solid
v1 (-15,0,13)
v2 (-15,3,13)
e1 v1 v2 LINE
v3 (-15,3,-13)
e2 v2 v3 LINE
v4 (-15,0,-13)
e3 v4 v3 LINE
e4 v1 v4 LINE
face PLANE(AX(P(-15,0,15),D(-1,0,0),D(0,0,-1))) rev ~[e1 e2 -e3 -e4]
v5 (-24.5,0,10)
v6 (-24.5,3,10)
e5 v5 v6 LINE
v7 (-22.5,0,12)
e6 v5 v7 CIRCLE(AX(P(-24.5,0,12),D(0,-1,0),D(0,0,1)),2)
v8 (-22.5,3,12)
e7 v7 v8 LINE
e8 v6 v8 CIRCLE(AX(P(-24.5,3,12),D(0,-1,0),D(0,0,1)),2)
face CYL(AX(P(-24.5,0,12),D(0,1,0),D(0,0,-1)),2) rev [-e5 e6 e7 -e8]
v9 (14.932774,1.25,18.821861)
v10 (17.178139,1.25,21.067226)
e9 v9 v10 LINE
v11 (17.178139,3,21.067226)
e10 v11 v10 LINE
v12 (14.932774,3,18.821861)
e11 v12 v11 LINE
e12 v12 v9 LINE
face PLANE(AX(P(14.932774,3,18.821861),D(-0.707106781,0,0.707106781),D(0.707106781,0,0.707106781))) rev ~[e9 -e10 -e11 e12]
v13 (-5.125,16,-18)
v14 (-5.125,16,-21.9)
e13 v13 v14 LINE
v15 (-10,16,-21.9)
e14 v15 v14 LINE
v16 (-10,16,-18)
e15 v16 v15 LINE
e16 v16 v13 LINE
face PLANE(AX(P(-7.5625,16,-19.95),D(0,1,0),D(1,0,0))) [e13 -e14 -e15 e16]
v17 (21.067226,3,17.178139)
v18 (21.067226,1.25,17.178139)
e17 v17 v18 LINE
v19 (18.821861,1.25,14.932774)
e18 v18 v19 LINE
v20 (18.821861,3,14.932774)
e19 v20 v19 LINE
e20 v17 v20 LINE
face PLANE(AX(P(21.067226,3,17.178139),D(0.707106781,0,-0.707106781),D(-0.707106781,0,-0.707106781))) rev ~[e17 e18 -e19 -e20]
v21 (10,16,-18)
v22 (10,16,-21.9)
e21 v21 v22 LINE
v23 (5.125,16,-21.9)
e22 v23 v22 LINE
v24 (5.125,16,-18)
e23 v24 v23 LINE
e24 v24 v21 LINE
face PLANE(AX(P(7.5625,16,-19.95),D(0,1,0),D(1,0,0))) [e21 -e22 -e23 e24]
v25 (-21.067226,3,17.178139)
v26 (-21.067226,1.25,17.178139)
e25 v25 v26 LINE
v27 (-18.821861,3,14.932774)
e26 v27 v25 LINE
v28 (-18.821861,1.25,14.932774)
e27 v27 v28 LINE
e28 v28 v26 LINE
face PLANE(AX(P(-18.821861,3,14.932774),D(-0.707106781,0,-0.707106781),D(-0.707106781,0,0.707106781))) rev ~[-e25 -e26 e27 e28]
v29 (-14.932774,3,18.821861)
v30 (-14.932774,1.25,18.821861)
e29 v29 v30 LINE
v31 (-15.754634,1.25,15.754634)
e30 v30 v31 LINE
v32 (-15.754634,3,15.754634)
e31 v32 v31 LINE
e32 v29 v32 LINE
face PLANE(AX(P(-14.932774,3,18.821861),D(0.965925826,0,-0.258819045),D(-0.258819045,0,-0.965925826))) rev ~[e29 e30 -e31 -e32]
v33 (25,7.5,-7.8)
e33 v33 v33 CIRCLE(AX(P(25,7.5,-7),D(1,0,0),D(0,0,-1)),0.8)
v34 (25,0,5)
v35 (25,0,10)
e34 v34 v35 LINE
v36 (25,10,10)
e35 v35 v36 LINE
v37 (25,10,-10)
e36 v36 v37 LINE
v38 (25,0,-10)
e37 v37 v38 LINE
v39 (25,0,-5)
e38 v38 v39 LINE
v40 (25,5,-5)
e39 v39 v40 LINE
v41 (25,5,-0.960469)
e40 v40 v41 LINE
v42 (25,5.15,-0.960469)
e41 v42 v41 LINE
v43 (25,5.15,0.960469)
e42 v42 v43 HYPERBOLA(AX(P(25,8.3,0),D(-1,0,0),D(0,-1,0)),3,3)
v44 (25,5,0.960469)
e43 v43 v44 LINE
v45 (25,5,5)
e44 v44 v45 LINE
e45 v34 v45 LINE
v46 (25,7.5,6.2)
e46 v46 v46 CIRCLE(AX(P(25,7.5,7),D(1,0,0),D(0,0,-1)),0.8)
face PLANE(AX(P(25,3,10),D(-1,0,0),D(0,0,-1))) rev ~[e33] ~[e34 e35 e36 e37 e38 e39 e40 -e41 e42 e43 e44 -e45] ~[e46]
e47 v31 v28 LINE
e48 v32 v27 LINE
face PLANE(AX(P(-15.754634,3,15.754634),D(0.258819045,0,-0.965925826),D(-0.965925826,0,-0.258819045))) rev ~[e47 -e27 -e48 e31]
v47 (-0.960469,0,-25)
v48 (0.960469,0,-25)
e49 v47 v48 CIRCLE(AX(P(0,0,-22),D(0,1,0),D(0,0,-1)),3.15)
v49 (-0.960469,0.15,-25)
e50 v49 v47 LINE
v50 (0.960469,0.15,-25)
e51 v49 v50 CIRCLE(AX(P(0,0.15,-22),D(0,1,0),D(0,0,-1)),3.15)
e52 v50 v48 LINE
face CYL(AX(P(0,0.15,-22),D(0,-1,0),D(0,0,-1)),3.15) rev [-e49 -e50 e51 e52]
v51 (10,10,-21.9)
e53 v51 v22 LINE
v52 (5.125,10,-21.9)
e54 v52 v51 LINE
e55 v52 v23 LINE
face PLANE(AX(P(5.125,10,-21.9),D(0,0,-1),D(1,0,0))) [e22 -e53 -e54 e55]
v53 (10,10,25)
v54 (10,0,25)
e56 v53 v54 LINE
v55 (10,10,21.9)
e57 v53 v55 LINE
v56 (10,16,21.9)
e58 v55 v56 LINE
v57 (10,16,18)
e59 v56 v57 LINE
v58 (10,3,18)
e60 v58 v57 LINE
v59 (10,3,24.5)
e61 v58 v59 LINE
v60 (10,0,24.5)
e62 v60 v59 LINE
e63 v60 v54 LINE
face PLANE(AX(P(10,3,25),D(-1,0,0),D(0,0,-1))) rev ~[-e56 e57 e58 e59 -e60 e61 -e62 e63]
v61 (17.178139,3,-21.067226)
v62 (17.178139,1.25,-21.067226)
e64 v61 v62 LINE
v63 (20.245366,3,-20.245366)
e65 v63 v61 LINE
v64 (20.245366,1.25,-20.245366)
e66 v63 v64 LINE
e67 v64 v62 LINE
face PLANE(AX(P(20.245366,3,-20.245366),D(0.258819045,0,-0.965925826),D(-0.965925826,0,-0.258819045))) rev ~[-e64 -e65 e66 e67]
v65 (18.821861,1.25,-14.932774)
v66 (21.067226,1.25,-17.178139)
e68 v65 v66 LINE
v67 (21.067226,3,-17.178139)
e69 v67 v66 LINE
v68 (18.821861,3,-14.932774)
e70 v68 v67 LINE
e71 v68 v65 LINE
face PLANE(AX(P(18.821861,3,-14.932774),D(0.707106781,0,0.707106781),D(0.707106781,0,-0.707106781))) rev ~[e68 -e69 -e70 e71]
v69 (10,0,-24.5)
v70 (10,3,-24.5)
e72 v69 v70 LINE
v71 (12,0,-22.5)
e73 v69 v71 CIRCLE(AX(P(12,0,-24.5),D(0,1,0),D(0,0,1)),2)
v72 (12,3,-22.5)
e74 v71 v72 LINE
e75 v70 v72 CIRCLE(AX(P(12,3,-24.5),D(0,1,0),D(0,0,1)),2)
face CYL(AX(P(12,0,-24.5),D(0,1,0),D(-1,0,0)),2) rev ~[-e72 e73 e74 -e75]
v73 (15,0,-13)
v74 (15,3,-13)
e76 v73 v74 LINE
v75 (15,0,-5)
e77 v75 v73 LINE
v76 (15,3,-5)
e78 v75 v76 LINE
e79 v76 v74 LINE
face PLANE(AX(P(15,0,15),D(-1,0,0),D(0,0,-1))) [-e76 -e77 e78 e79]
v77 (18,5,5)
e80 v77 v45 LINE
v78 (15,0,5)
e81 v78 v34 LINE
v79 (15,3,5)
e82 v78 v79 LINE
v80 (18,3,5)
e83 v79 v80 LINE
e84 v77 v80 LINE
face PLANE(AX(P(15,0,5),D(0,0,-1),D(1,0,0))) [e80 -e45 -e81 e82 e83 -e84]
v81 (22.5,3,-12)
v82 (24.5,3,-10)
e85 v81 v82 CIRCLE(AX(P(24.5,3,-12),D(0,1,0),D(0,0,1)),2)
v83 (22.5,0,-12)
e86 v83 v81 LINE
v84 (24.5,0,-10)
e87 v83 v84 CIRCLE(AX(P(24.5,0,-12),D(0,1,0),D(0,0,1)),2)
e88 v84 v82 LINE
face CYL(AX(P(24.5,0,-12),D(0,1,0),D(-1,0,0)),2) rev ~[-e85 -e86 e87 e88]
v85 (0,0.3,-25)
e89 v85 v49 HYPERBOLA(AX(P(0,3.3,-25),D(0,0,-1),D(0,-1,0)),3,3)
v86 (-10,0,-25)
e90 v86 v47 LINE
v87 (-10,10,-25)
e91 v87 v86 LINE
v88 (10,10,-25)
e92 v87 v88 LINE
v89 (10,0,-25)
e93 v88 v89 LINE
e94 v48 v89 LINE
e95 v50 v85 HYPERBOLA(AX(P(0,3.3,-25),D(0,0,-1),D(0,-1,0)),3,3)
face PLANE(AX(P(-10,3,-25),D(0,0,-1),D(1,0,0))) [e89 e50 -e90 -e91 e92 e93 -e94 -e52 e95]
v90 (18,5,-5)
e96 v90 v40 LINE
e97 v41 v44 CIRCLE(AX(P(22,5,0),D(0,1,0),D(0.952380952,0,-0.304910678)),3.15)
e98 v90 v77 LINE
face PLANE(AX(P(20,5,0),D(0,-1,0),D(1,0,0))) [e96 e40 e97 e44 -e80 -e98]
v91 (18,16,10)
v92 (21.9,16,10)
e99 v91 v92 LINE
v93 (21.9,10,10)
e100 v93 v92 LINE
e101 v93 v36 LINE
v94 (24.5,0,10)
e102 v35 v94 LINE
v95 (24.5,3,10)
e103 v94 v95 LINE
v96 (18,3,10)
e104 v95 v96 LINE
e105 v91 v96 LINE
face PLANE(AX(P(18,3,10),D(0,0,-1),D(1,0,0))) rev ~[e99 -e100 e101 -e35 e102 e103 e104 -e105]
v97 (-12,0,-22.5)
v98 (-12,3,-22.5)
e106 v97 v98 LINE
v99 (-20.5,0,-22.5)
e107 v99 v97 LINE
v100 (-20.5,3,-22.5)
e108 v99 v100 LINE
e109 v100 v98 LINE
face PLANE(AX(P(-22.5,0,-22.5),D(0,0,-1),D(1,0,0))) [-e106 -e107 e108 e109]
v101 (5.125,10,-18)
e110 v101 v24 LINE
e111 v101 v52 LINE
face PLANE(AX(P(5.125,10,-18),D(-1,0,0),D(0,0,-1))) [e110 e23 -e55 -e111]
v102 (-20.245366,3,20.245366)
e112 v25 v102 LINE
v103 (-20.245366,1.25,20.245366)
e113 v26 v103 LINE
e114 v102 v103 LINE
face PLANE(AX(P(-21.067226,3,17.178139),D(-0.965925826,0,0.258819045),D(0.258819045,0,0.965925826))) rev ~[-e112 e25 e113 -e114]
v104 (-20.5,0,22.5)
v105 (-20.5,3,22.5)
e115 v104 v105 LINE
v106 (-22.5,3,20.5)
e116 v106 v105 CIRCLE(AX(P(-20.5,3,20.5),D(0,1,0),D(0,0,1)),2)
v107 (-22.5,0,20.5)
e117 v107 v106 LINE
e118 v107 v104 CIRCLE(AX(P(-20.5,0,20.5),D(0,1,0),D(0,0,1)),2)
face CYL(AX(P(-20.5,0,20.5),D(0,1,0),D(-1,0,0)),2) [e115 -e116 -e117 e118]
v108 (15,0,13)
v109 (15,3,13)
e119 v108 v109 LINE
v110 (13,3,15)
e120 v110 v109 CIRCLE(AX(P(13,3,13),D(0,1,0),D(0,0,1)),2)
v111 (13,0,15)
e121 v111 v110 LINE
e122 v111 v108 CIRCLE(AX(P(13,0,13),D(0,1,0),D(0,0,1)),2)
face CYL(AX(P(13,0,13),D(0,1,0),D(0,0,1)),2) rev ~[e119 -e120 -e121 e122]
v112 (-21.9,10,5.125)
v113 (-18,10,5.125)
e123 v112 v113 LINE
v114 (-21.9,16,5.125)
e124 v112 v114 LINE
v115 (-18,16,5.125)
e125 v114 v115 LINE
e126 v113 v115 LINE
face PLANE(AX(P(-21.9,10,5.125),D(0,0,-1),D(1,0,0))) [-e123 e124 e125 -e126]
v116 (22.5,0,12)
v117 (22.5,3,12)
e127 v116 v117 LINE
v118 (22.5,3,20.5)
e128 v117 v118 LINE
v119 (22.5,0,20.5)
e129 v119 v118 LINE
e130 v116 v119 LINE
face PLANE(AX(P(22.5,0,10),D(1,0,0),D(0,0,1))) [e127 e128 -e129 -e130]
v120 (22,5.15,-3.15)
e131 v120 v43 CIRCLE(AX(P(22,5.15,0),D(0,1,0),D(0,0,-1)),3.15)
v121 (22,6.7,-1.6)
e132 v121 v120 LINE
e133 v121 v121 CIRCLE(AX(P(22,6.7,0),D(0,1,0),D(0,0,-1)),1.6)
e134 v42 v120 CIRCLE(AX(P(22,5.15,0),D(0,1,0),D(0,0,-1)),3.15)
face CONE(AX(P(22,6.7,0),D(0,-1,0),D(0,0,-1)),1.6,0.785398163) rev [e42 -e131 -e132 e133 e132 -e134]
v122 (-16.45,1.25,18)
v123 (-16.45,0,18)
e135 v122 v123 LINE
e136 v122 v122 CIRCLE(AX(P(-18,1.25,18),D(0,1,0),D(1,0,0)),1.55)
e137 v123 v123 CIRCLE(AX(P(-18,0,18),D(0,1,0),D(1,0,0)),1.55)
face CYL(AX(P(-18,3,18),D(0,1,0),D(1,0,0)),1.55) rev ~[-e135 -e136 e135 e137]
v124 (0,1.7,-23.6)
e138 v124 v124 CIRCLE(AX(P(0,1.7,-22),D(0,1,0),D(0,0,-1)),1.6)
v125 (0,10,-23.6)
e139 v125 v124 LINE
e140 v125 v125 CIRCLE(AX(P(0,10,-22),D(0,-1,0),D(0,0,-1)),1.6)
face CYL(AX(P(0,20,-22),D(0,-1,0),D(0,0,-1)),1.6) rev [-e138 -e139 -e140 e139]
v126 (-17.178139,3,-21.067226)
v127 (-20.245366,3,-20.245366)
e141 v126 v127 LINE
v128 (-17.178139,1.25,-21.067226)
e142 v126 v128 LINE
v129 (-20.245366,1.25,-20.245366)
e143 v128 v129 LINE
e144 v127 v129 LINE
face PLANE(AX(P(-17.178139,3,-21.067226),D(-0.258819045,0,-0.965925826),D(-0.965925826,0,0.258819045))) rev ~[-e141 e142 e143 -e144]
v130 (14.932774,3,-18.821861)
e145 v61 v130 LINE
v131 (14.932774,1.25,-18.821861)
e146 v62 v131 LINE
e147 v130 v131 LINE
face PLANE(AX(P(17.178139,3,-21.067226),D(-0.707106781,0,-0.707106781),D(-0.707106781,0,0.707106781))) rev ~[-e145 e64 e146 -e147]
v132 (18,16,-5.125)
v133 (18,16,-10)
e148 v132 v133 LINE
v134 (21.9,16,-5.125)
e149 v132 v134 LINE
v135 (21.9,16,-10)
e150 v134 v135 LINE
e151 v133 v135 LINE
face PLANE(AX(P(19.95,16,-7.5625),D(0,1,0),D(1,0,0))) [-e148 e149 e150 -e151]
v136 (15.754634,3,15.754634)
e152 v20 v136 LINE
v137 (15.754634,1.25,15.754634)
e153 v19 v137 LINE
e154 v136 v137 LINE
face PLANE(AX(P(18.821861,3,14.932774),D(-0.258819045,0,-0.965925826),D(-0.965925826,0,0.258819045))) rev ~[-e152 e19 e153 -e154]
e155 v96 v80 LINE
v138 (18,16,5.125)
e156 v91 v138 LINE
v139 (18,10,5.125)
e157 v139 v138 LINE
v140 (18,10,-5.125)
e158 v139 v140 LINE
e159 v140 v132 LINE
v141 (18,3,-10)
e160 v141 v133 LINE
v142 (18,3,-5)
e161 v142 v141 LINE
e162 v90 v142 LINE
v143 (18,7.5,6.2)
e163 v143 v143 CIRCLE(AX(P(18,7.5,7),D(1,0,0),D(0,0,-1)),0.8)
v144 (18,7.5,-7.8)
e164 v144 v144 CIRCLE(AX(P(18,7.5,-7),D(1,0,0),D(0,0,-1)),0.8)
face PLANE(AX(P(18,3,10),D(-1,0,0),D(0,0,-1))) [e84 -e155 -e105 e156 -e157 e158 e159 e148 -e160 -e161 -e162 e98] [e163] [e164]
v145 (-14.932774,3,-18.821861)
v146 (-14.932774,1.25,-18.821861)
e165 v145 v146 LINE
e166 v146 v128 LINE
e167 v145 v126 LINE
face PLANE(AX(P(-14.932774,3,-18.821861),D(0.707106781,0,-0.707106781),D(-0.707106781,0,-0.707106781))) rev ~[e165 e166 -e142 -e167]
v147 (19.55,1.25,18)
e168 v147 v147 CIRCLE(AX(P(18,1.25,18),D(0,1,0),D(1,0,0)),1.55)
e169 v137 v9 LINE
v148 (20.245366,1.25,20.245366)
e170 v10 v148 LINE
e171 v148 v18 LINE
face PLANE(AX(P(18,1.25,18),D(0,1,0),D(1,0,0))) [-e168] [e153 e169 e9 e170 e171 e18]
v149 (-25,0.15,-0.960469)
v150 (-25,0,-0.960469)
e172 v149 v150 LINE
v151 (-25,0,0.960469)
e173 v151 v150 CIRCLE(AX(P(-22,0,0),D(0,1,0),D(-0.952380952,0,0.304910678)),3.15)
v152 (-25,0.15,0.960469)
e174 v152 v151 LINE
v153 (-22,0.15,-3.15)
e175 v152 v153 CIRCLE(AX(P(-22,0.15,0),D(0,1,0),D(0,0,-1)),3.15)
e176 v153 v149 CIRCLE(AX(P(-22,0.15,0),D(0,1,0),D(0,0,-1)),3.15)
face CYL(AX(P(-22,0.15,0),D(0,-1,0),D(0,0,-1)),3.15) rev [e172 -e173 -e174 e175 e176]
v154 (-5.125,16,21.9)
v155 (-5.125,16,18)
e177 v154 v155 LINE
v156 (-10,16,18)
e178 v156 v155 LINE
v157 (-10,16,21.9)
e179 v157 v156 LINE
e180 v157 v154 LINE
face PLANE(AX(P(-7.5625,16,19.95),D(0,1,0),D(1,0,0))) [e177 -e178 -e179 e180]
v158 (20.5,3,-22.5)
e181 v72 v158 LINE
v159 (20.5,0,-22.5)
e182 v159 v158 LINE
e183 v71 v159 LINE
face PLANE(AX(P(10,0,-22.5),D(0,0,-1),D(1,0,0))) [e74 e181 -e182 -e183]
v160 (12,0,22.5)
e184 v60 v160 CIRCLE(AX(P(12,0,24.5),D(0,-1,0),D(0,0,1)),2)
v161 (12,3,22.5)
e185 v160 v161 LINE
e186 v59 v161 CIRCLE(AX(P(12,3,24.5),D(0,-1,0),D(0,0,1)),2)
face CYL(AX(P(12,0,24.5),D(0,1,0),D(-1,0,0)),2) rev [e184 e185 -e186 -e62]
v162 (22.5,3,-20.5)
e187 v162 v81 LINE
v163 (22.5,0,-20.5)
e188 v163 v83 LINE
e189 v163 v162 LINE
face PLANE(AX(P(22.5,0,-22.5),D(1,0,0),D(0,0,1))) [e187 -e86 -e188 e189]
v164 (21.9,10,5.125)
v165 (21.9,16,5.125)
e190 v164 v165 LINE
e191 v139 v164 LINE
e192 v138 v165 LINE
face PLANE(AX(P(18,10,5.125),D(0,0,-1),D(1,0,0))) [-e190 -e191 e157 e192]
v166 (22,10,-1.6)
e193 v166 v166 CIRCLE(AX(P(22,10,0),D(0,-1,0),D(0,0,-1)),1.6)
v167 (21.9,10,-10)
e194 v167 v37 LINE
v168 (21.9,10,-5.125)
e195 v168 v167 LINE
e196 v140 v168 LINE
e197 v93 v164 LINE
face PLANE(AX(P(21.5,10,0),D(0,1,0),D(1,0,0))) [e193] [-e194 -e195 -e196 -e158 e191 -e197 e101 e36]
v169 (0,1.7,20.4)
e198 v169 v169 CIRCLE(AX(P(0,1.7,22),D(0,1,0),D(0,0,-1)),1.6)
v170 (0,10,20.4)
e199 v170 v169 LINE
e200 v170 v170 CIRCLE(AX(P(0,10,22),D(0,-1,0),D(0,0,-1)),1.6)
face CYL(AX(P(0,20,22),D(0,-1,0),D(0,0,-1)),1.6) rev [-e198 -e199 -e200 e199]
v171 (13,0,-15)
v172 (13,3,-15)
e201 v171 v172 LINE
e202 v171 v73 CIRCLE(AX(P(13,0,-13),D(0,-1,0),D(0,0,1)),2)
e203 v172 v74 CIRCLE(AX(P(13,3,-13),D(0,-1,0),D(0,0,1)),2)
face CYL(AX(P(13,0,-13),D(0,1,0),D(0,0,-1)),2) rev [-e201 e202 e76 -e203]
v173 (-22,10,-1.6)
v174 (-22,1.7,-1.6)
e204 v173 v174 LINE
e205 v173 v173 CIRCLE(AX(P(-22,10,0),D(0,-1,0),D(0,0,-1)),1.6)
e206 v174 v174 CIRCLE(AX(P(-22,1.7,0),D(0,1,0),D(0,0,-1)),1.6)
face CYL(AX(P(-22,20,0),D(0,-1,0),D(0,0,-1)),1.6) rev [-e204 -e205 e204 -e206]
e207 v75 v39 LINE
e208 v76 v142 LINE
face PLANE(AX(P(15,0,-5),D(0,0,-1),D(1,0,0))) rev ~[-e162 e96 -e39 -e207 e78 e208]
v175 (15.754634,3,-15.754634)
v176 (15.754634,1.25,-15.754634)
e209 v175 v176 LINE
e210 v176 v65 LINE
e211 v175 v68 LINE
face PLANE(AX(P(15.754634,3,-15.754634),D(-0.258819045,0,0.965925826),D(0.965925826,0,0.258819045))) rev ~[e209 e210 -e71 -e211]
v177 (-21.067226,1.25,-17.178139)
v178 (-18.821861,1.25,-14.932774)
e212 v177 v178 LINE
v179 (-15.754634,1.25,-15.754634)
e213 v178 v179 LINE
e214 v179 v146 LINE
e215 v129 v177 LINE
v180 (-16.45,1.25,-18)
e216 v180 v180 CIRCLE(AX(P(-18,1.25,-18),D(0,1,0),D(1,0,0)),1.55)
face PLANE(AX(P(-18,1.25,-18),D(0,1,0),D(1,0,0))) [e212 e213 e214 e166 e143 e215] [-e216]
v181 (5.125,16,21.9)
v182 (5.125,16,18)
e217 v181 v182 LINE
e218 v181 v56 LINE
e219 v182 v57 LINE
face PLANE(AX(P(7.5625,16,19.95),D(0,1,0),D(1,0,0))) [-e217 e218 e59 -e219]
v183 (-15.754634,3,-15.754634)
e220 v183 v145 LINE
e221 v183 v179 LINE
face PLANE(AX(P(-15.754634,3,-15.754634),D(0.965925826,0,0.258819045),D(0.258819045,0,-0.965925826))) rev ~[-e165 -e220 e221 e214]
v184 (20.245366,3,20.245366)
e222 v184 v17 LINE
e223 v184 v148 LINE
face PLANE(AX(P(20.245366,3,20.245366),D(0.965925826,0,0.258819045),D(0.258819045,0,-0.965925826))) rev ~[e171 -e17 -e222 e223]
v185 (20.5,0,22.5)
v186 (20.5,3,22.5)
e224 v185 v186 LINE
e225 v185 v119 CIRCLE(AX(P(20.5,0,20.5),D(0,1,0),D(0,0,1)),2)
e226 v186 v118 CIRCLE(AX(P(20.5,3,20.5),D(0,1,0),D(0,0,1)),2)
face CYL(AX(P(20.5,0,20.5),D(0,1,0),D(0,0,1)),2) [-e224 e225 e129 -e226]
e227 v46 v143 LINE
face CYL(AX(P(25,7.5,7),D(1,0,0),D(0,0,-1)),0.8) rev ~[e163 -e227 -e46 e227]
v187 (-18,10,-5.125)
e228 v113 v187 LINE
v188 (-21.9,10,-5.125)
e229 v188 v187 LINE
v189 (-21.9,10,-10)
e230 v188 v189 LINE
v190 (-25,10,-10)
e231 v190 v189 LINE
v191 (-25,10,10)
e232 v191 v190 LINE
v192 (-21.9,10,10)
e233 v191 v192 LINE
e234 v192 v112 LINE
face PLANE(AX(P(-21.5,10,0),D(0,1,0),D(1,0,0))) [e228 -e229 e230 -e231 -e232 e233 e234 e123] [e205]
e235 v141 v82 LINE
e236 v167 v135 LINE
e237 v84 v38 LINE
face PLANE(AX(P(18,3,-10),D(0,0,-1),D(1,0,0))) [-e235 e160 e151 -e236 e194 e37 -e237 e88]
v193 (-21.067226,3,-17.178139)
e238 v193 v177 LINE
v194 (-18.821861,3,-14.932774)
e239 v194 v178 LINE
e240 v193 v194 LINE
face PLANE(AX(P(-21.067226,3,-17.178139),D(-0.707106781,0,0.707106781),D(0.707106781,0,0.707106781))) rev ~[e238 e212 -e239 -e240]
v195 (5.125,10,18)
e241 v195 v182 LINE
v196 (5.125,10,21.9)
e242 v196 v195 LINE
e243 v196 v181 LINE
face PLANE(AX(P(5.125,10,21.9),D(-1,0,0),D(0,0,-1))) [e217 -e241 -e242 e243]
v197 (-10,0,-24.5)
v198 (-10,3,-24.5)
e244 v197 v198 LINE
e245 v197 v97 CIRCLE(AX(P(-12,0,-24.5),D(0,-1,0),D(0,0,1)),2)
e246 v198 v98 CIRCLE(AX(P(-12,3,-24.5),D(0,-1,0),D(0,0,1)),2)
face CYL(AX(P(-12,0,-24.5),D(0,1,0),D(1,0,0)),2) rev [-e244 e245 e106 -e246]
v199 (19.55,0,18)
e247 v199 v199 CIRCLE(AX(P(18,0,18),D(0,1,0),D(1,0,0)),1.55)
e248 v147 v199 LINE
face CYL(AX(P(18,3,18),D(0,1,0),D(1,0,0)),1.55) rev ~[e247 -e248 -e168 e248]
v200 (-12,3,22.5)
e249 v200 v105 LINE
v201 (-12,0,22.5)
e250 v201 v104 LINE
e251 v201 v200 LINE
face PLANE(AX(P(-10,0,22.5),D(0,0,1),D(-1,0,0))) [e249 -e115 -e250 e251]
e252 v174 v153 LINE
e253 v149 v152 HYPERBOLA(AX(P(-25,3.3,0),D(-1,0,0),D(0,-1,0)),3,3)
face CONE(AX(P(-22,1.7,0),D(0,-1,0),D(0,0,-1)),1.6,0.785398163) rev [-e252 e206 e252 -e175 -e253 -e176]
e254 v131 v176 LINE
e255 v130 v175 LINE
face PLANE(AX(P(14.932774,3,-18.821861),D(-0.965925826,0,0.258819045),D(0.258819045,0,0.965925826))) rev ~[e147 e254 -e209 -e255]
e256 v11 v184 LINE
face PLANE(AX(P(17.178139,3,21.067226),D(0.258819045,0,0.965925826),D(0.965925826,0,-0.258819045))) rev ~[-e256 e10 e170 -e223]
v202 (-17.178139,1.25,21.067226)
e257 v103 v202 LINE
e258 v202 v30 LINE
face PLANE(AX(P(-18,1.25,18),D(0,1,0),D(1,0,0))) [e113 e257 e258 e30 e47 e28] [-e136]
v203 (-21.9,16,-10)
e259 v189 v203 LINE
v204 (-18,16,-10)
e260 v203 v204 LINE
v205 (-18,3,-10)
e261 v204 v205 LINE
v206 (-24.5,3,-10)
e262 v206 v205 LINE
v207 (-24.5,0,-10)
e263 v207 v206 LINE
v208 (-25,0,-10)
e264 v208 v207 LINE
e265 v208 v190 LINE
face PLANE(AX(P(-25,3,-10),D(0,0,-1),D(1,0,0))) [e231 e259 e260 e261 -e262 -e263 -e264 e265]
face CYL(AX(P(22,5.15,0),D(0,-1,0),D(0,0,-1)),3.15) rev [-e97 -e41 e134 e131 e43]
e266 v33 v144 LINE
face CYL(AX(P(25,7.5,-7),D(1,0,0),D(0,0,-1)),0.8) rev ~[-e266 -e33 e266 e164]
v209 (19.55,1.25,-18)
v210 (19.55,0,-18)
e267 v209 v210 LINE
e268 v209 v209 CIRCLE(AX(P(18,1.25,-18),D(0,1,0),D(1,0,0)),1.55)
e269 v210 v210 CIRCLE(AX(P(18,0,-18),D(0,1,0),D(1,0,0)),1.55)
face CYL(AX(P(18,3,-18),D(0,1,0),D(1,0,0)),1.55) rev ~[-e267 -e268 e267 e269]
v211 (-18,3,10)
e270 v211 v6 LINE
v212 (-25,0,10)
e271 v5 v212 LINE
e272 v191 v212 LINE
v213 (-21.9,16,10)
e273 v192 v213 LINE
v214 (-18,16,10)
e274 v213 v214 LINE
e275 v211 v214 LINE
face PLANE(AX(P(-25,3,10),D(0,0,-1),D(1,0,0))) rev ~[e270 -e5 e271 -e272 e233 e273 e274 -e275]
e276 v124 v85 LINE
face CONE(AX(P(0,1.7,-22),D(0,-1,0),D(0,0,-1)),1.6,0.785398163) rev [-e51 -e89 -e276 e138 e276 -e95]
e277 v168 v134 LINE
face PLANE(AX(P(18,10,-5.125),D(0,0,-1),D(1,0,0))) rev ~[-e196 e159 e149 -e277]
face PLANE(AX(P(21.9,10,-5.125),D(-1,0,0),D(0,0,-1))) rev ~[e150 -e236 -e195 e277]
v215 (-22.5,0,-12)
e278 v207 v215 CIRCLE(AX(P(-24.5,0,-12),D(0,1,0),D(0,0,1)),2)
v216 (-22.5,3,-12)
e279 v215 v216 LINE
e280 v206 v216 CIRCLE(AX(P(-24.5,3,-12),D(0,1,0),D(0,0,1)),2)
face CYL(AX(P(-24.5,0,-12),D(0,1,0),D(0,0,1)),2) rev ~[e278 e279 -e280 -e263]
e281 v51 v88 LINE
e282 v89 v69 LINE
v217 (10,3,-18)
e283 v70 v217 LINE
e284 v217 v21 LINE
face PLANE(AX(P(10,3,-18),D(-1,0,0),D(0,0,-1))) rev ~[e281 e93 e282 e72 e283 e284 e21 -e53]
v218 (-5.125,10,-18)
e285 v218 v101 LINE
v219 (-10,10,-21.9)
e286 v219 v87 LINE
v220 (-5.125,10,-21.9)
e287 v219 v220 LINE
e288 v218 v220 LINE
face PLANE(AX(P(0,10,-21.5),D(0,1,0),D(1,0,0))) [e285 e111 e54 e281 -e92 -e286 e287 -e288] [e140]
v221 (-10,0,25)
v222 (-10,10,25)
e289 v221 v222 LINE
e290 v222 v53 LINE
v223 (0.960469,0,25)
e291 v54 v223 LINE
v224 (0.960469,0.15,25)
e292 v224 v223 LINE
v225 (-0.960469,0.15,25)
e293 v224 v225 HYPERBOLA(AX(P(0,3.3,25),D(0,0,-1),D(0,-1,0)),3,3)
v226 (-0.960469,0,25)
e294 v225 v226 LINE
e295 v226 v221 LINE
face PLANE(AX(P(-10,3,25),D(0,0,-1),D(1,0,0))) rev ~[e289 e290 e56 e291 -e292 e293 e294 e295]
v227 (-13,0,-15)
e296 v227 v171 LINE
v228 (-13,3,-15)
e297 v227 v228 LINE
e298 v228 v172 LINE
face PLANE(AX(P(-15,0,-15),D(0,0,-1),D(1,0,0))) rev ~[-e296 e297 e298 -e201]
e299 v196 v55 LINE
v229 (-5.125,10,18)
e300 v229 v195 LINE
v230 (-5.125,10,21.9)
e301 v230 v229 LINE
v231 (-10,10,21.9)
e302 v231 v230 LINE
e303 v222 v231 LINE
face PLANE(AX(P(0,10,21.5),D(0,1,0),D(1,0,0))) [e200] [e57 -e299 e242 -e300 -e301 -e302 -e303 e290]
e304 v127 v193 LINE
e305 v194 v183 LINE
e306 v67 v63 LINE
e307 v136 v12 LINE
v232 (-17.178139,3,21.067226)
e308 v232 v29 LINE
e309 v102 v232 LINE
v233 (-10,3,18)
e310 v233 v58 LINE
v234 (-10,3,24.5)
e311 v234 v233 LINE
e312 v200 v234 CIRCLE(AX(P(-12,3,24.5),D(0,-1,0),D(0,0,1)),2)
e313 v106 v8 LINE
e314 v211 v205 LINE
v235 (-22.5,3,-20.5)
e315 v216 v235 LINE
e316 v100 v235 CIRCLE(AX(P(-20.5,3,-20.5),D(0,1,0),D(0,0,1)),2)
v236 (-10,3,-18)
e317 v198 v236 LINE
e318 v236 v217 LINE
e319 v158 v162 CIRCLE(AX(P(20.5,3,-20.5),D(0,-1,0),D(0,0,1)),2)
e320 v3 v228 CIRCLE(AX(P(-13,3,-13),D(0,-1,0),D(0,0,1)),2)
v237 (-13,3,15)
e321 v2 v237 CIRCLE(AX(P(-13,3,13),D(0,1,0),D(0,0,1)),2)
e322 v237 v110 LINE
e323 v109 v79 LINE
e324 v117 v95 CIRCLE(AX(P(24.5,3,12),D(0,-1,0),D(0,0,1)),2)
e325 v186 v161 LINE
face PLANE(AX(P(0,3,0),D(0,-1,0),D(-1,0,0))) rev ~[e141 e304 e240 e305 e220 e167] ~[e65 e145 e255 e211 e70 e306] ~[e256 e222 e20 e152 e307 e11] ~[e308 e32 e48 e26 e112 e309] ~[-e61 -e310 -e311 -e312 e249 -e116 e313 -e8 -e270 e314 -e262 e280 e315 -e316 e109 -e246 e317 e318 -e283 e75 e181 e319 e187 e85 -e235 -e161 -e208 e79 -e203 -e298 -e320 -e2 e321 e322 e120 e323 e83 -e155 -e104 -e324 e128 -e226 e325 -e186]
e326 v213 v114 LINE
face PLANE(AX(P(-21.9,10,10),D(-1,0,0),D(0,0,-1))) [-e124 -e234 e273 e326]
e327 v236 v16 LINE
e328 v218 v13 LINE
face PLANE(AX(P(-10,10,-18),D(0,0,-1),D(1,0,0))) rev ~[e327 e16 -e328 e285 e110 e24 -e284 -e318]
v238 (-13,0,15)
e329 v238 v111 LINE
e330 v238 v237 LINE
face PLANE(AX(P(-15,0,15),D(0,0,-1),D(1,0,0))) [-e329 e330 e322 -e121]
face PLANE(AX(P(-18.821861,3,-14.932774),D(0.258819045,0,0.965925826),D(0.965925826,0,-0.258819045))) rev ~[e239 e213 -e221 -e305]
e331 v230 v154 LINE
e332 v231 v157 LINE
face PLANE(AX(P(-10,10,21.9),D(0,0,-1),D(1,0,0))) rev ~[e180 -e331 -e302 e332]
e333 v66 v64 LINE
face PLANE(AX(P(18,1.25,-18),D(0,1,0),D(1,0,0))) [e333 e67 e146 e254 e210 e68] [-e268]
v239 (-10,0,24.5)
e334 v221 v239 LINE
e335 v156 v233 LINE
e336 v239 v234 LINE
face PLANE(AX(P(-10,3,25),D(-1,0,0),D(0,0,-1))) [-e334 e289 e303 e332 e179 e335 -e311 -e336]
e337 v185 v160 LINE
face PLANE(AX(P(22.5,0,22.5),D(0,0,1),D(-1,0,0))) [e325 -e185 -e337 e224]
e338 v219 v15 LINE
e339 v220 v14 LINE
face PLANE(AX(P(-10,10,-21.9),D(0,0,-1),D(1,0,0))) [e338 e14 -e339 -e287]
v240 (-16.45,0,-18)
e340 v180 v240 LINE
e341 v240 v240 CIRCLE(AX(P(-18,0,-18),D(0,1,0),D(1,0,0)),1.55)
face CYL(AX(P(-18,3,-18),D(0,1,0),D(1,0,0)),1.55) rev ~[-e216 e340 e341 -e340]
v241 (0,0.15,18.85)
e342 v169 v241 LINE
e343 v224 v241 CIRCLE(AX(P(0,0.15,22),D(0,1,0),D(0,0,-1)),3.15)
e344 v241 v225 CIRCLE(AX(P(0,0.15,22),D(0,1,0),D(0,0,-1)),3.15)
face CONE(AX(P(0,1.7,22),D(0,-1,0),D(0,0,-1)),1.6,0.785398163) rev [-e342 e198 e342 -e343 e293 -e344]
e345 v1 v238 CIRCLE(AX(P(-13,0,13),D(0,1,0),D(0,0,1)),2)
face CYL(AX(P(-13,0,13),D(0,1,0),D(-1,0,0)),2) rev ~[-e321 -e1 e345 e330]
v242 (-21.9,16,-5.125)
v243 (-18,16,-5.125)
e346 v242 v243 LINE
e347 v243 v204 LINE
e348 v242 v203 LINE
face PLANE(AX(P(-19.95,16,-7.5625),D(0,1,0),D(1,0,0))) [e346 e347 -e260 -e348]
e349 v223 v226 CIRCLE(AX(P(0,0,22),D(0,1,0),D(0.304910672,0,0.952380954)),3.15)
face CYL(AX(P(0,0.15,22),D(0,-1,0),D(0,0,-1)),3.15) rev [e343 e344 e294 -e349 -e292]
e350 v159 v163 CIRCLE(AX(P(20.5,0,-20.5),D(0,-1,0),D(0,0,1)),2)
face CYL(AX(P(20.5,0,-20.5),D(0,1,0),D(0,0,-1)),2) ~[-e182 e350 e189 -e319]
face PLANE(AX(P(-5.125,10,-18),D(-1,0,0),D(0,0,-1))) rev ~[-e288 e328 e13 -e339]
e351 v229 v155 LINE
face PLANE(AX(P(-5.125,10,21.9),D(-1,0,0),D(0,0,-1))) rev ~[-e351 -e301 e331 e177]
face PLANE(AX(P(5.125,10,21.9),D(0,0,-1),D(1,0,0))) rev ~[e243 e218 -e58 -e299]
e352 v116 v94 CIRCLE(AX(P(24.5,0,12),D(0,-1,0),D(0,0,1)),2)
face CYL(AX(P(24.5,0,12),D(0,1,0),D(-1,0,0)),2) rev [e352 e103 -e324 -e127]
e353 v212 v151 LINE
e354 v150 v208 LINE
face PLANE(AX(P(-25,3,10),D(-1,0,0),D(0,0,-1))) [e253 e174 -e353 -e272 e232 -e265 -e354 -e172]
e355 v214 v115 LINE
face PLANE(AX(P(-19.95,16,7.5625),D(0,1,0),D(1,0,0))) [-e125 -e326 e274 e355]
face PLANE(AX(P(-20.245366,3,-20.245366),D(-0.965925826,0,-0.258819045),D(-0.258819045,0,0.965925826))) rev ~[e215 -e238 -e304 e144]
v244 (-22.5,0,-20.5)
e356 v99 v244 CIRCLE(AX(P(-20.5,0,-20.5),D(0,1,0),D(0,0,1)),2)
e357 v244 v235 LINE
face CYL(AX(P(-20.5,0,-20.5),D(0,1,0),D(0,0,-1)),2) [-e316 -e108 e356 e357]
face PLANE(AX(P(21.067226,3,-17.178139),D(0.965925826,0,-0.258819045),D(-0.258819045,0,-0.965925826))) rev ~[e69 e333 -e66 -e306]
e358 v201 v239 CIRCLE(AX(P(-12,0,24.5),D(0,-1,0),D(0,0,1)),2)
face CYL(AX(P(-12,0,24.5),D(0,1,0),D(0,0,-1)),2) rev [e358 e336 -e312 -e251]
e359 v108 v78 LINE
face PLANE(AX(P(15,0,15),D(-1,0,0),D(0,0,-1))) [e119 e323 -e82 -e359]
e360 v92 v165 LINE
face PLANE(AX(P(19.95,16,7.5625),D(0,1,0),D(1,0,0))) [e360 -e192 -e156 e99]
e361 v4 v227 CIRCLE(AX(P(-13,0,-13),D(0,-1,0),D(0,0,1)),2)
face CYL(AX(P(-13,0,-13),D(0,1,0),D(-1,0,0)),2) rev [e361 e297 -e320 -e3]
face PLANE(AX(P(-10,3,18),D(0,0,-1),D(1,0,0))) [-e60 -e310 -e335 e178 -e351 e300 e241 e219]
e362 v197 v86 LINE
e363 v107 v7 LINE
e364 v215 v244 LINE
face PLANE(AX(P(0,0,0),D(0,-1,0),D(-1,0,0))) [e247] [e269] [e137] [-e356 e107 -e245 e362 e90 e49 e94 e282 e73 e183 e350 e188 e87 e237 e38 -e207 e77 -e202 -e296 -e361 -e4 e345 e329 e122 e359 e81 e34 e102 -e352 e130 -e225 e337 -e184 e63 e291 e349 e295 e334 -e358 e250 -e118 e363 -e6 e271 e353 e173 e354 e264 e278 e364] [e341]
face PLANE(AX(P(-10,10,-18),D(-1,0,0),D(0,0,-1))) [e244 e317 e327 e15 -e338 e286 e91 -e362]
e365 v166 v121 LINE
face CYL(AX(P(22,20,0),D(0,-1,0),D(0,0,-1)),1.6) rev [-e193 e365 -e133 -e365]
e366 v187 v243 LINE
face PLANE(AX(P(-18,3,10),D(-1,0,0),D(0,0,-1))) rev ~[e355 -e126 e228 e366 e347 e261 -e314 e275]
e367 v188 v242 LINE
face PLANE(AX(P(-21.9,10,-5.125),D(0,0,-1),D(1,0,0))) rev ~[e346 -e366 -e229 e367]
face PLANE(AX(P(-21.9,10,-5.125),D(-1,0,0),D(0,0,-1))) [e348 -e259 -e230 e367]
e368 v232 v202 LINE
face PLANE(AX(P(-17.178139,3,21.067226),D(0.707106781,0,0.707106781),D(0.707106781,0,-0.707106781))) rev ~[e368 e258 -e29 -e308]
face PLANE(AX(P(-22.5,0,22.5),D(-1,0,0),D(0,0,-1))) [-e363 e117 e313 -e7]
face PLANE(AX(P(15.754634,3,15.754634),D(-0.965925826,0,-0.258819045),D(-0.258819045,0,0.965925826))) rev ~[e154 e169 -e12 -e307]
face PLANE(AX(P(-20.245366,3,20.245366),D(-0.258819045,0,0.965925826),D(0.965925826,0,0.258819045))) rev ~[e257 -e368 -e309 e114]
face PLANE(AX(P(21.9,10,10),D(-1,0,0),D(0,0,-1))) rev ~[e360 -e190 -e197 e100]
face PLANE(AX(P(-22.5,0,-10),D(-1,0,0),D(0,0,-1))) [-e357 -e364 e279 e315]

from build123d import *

# Parameters (mm, degrees)
SKETCH1_W                                      = 30
SKETCH1_H                                      = 30
BOSS_EXTRUDE1_DEPTH                            = 3
SKETCH2_W                                      = 20
SKETCH2_H                                      = 7
SKETCH2_W_2                                    = 7
SKETCH2_H_2                                    = 20
BOSS_EXTRUDE2_DEPTH                            = 7
SKETCH3_W                                      = 4.875
SKETCH3_H                                      = 3.9
SKETCH3_W_2                                    = 3.9
SKETCH3_H_2                                    = 4.875
BOSS_EXTRUDE3_DEPTH                            = 6
CSK_FOR_M3_FLAT_HEAD_MACHINE_SCREW1_AT_2_COUNT = 2
CSK_FOR_M3_FLAT_HEAD_MACHINE_SCREW1_AT_2_PITCH = 31.112698372
CSK_FOR_M3_FLAT_HEAD_MACHINE_SCREW1_AT_3_COUNT = 2
CSK_FOR_M3_FLAT_HEAD_MACHINE_SCREW1_AT_3_PITCH = 44
CSK_FOR_M3_FLAT_HEAD_MACHINE_SCREW1_AT_4_COUNT = 2
CSK_FOR_M3_FLAT_HEAD_MACHINE_SCREW1_AT_4_PITCH = 31.112698372
CSK_FOR_M3_FLAT_HEAD_MACHINE_SCREW1_AT_5_COUNT = 2
CSK_FOR_M3_FLAT_HEAD_MACHINE_SCREW1_AT_5_PITCH = 22
CUT_EXTRUDE1_DEPTH                             = 1.75
SKETCH7_R                                      = 1.55
CUT_EXTRUDE2_DEPTH                             = 4
FILLET1_R                                      = 2
SKETCH8_W                                      = 10
SKETCH8_H                                      = 10
CUT_EXTRUDE3_DEPTH                             = 5
SKETCH11_R                                     = 0.8
CUT_EXTRUDE4_DEPTH                             = 7


with BuildPart() as part:
    # Sketch1 → Boss-Extrude1 (new body)
    with BuildSketch(Plane(origin=(0, 0, 0), x_dir=(1, 0, 0), z_dir=(0, 1, 0))):
        Polygon((-10, 22.5), (-10, 25), (10, 25), (10, 22.5), (22.5, 22.5), (22.5, 10), (25, 10), (25, -10), (22.5, -10), (22.5, -22.5), (10, -22.5), (10, -25), (-10, -25), (-10, -22.5), (-22.5, -22.5), (-22.5, -10), (-25, -10), (-25, 10), (-22.5, 10), (-22.5, 22.5), align=None)
        Rectangle(SKETCH1_W, SKETCH1_H, mode=Mode.SUBTRACT)
    extrude(amount=BOSS_EXTRUDE1_DEPTH)

    # Sketch2 → Boss-Extrude2 (add)
    with BuildSketch(Plane(origin=(0, 3, 0), x_dir=(1, 0, 0), z_dir=(0, 1, 0))):
        with Locations((0, 21.5)):
            Rectangle(SKETCH2_W, SKETCH2_H)
        with Locations((21.5, 0)):
            Rectangle(SKETCH2_W_2, SKETCH2_H_2)
        with Locations((0, -21.5)):
            Rectangle(SKETCH2_W, SKETCH2_H)
        with Locations((-21.5, 0)):
            Rectangle(SKETCH2_W_2, SKETCH2_H_2)
    extrude(amount=BOSS_EXTRUDE2_DEPTH)

    # Sketch3 → Boss-Extrude3 (add)
    with BuildSketch(Plane(origin=(0, 10, 0), x_dir=(1, 0, 0), z_dir=(0, 1, 0))):
        with Locations((-7.5625, 19.95)):
            Rectangle(SKETCH3_W, SKETCH3_H)
        with Locations((7.5625, 19.95)):
            Rectangle(SKETCH3_W, SKETCH3_H)
        with Locations((19.95, 7.5625)):
            Rectangle(SKETCH3_W_2, SKETCH3_H_2)
        with Locations((19.95, -7.5625)):
            Rectangle(SKETCH3_W_2, SKETCH3_H_2)
        with Locations((7.5625, -19.95)):
            Rectangle(SKETCH3_W, SKETCH3_H)
        with Locations((-7.5625, -19.95)):
            Rectangle(SKETCH3_W, SKETCH3_H)
        with Locations((-19.95, -7.5625)):
            Rectangle(SKETCH3_W_2, SKETCH3_H_2)
        with Locations((-19.95, 7.5625)):
            Rectangle(SKETCH3_W_2, SKETCH3_H_2)
    extrude(amount=BOSS_EXTRUDE3_DEPTH)

    # Sketch4 → CSK for M3 Flat Head Machine Screw1 (revolve, cut)
    with BuildSketch(Plane(origin=(-22, 0, 0), x_dir=(0, 0, -1), z_dir=(1, 0, 0))):
        Polygon((0, 0), (0, 20.96137699), (1.6, 20), (1.6, 1.7), (3.15, 0.15), (3.15, 0), align=None)
    csk_for_m3_flat_head_machine_screw1 = revolve(axis=Axis((-22, -6.35, 0), (0, 1, 0)), mode=Mode.SUBTRACT)

    # CSK for M3 Flat Head Machine Screw1 at 2: CSK for M3 Flat Head Machine Screw1 ×2
    with Locations(*[Vector(0.707106781, 0, 0.707106781) * (i * CSK_FOR_M3_FLAT_HEAD_MACHINE_SCREW1_AT_2_PITCH) for i in range(1, CSK_FOR_M3_FLAT_HEAD_MACHINE_SCREW1_AT_2_COUNT)]):
        add(csk_for_m3_flat_head_machine_screw1, mode=Mode.SUBTRACT)

    # CSK for M3 Flat Head Machine Screw1 at 3: CSK for M3 Flat Head Machine Screw1 ×2
    with Locations(*[(i * CSK_FOR_M3_FLAT_HEAD_MACHINE_SCREW1_AT_3_PITCH, 0, 0) for i in range(1, CSK_FOR_M3_FLAT_HEAD_MACHINE_SCREW1_AT_3_COUNT)]):
        add(csk_for_m3_flat_head_machine_screw1, mode=Mode.SUBTRACT)

    # CSK for M3 Flat Head Machine Screw1 at 4: CSK for M3 Flat Head Machine Screw1 ×2
    with Locations(*[Vector(0.707106781, 0, -0.707106781) * (i * CSK_FOR_M3_FLAT_HEAD_MACHINE_SCREW1_AT_4_PITCH) for i in range(1, CSK_FOR_M3_FLAT_HEAD_MACHINE_SCREW1_AT_4_COUNT)]):
        add(csk_for_m3_flat_head_machine_screw1, mode=Mode.SUBTRACT)

    # CSK for M3 Flat Head Machine Screw1 at 5: CSK for M3 Flat Head Machine Screw1 ×2
    with Locations(*[(i * CSK_FOR_M3_FLAT_HEAD_MACHINE_SCREW1_AT_5_PITCH, 0, 0) for i in range(1, CSK_FOR_M3_FLAT_HEAD_MACHINE_SCREW1_AT_5_COUNT)]):
        add(csk_for_m3_flat_head_machine_screw1, mode=Mode.SUBTRACT)

    # Sketch6 → Cut-Extrude1 (cut)
    with BuildSketch(Plane(origin=(0, 3, 0), x_dir=(1, 0, 0), z_dir=(0, 1, 0))):
        Polygon((-20.245365598, 20.245365598), (-21.067226447, 17.178139151), (-18.821860849, 14.932773553), (-15.754634402, 15.754634402), (-14.932773553, 18.821860849), (-17.178139151, 21.067226447), align=None)
        Polygon((20.245365598, 20.245365598), (17.178139151, 21.067226447), (14.932773553, 18.821860849), (15.754634402, 15.754634402), (18.821860849, 14.932773553), (21.067226447, 17.178139151), align=None)
        Polygon((20.245365598, -20.245365598), (21.067226447, -17.178139151), (18.821860849, -14.932773553), (15.754634402, -15.754634402), (14.932773553, -18.821860849), (17.178139151, -21.067226447), align=None)
        Polygon((-20.245365598, -20.245365598), (-17.178139151, -21.067226447), (-14.932773553, -18.821860849), (-15.754634402, -15.754634402), (-18.821860849, -14.932773553), (-21.067226447, -17.178139151), align=None)
    extrude(amount=-CUT_EXTRUDE1_DEPTH, mode=Mode.SUBTRACT)

    # Sketch7 → Cut-Extrude2 (cut, through all)
    with BuildSketch(Plane(origin=(0, 3, 0), x_dir=(1, 0, 0), z_dir=(0, 1, 0))):
        with Locations((-18, 18)):
            Circle(SKETCH7_R)
        with Locations((18, 18)):
            Circle(SKETCH7_R)
        with Locations((18, -18)):
            Circle(SKETCH7_R)
        with Locations((-18, -18)):
            Circle(SKETCH7_R)
    extrude(amount=-CUT_EXTRUDE2_DEPTH, mode=Mode.SUBTRACT)

    # Fillet1
    fillet1_edges = [part.edges().sort_by_distance(p)[0] for p in [
        (-15, 1.5, -15),
        (-15, 1.5, 15),
        (15, 1.5, 15),
        (15, 1.5, -15),
        (-10, 1.5, -22.5),
        (-22.5, 1.5, -10),
        (10, 1.5, -22.5),
        (22.5, 1.5, -10),
        (22.5, 1.5, 10),
        (10, 1.5, 22.5),
        (-10, 1.5, 22.5),
        (-22.5, 1.5, 10),
        (-22.5, 1.5, 22.5),
        (22.5, 1.5, 22.5),
        (22.5, 1.5, -22.5),
        (-22.5, 1.5, -22.5),
    ]]
    fillet(fillet1_edges, radius=FILLET1_R)

    # Sketch8 → Cut-Extrude3 (cut)
    with BuildSketch(Plane.XZ):
        with Locations((20, 0)):
            Rectangle(SKETCH8_W, SKETCH8_H)
    extrude(amount=-CUT_EXTRUDE3_DEPTH, mode=Mode.SUBTRACT)

    # Sketch9 → CSK for M3 Flat Head Machine Screw2 (revolve, cut)
    with BuildSketch(Plane(origin=(22, 5, 0), x_dir=(0, 0, -1), z_dir=(1, 0, 0))):
        Polygon((0, 0), (0, 20.96137699), (1.6, 20), (1.6, 1.7), (3.15, 0.15), (3.15, 0), align=None)
    revolve(axis=Axis((22, -1.35, 0), (0, 1, 0)), mode=Mode.SUBTRACT)

    # Sketch11 → Cut-Extrude4 (cut)
    with BuildSketch(Plane(origin=(25, 0, 0), x_dir=(0, 0, -1), z_dir=(1, 0, 0))):
        with Locations((7, 7.5)):
            Circle(SKETCH11_R)
        with Locations((-7, 7.5)):
            Circle(SKETCH11_R)
    extrude(amount=-CUT_EXTRUDE4_DEPTH, mode=Mode.SUBTRACT)


solid = part.part
